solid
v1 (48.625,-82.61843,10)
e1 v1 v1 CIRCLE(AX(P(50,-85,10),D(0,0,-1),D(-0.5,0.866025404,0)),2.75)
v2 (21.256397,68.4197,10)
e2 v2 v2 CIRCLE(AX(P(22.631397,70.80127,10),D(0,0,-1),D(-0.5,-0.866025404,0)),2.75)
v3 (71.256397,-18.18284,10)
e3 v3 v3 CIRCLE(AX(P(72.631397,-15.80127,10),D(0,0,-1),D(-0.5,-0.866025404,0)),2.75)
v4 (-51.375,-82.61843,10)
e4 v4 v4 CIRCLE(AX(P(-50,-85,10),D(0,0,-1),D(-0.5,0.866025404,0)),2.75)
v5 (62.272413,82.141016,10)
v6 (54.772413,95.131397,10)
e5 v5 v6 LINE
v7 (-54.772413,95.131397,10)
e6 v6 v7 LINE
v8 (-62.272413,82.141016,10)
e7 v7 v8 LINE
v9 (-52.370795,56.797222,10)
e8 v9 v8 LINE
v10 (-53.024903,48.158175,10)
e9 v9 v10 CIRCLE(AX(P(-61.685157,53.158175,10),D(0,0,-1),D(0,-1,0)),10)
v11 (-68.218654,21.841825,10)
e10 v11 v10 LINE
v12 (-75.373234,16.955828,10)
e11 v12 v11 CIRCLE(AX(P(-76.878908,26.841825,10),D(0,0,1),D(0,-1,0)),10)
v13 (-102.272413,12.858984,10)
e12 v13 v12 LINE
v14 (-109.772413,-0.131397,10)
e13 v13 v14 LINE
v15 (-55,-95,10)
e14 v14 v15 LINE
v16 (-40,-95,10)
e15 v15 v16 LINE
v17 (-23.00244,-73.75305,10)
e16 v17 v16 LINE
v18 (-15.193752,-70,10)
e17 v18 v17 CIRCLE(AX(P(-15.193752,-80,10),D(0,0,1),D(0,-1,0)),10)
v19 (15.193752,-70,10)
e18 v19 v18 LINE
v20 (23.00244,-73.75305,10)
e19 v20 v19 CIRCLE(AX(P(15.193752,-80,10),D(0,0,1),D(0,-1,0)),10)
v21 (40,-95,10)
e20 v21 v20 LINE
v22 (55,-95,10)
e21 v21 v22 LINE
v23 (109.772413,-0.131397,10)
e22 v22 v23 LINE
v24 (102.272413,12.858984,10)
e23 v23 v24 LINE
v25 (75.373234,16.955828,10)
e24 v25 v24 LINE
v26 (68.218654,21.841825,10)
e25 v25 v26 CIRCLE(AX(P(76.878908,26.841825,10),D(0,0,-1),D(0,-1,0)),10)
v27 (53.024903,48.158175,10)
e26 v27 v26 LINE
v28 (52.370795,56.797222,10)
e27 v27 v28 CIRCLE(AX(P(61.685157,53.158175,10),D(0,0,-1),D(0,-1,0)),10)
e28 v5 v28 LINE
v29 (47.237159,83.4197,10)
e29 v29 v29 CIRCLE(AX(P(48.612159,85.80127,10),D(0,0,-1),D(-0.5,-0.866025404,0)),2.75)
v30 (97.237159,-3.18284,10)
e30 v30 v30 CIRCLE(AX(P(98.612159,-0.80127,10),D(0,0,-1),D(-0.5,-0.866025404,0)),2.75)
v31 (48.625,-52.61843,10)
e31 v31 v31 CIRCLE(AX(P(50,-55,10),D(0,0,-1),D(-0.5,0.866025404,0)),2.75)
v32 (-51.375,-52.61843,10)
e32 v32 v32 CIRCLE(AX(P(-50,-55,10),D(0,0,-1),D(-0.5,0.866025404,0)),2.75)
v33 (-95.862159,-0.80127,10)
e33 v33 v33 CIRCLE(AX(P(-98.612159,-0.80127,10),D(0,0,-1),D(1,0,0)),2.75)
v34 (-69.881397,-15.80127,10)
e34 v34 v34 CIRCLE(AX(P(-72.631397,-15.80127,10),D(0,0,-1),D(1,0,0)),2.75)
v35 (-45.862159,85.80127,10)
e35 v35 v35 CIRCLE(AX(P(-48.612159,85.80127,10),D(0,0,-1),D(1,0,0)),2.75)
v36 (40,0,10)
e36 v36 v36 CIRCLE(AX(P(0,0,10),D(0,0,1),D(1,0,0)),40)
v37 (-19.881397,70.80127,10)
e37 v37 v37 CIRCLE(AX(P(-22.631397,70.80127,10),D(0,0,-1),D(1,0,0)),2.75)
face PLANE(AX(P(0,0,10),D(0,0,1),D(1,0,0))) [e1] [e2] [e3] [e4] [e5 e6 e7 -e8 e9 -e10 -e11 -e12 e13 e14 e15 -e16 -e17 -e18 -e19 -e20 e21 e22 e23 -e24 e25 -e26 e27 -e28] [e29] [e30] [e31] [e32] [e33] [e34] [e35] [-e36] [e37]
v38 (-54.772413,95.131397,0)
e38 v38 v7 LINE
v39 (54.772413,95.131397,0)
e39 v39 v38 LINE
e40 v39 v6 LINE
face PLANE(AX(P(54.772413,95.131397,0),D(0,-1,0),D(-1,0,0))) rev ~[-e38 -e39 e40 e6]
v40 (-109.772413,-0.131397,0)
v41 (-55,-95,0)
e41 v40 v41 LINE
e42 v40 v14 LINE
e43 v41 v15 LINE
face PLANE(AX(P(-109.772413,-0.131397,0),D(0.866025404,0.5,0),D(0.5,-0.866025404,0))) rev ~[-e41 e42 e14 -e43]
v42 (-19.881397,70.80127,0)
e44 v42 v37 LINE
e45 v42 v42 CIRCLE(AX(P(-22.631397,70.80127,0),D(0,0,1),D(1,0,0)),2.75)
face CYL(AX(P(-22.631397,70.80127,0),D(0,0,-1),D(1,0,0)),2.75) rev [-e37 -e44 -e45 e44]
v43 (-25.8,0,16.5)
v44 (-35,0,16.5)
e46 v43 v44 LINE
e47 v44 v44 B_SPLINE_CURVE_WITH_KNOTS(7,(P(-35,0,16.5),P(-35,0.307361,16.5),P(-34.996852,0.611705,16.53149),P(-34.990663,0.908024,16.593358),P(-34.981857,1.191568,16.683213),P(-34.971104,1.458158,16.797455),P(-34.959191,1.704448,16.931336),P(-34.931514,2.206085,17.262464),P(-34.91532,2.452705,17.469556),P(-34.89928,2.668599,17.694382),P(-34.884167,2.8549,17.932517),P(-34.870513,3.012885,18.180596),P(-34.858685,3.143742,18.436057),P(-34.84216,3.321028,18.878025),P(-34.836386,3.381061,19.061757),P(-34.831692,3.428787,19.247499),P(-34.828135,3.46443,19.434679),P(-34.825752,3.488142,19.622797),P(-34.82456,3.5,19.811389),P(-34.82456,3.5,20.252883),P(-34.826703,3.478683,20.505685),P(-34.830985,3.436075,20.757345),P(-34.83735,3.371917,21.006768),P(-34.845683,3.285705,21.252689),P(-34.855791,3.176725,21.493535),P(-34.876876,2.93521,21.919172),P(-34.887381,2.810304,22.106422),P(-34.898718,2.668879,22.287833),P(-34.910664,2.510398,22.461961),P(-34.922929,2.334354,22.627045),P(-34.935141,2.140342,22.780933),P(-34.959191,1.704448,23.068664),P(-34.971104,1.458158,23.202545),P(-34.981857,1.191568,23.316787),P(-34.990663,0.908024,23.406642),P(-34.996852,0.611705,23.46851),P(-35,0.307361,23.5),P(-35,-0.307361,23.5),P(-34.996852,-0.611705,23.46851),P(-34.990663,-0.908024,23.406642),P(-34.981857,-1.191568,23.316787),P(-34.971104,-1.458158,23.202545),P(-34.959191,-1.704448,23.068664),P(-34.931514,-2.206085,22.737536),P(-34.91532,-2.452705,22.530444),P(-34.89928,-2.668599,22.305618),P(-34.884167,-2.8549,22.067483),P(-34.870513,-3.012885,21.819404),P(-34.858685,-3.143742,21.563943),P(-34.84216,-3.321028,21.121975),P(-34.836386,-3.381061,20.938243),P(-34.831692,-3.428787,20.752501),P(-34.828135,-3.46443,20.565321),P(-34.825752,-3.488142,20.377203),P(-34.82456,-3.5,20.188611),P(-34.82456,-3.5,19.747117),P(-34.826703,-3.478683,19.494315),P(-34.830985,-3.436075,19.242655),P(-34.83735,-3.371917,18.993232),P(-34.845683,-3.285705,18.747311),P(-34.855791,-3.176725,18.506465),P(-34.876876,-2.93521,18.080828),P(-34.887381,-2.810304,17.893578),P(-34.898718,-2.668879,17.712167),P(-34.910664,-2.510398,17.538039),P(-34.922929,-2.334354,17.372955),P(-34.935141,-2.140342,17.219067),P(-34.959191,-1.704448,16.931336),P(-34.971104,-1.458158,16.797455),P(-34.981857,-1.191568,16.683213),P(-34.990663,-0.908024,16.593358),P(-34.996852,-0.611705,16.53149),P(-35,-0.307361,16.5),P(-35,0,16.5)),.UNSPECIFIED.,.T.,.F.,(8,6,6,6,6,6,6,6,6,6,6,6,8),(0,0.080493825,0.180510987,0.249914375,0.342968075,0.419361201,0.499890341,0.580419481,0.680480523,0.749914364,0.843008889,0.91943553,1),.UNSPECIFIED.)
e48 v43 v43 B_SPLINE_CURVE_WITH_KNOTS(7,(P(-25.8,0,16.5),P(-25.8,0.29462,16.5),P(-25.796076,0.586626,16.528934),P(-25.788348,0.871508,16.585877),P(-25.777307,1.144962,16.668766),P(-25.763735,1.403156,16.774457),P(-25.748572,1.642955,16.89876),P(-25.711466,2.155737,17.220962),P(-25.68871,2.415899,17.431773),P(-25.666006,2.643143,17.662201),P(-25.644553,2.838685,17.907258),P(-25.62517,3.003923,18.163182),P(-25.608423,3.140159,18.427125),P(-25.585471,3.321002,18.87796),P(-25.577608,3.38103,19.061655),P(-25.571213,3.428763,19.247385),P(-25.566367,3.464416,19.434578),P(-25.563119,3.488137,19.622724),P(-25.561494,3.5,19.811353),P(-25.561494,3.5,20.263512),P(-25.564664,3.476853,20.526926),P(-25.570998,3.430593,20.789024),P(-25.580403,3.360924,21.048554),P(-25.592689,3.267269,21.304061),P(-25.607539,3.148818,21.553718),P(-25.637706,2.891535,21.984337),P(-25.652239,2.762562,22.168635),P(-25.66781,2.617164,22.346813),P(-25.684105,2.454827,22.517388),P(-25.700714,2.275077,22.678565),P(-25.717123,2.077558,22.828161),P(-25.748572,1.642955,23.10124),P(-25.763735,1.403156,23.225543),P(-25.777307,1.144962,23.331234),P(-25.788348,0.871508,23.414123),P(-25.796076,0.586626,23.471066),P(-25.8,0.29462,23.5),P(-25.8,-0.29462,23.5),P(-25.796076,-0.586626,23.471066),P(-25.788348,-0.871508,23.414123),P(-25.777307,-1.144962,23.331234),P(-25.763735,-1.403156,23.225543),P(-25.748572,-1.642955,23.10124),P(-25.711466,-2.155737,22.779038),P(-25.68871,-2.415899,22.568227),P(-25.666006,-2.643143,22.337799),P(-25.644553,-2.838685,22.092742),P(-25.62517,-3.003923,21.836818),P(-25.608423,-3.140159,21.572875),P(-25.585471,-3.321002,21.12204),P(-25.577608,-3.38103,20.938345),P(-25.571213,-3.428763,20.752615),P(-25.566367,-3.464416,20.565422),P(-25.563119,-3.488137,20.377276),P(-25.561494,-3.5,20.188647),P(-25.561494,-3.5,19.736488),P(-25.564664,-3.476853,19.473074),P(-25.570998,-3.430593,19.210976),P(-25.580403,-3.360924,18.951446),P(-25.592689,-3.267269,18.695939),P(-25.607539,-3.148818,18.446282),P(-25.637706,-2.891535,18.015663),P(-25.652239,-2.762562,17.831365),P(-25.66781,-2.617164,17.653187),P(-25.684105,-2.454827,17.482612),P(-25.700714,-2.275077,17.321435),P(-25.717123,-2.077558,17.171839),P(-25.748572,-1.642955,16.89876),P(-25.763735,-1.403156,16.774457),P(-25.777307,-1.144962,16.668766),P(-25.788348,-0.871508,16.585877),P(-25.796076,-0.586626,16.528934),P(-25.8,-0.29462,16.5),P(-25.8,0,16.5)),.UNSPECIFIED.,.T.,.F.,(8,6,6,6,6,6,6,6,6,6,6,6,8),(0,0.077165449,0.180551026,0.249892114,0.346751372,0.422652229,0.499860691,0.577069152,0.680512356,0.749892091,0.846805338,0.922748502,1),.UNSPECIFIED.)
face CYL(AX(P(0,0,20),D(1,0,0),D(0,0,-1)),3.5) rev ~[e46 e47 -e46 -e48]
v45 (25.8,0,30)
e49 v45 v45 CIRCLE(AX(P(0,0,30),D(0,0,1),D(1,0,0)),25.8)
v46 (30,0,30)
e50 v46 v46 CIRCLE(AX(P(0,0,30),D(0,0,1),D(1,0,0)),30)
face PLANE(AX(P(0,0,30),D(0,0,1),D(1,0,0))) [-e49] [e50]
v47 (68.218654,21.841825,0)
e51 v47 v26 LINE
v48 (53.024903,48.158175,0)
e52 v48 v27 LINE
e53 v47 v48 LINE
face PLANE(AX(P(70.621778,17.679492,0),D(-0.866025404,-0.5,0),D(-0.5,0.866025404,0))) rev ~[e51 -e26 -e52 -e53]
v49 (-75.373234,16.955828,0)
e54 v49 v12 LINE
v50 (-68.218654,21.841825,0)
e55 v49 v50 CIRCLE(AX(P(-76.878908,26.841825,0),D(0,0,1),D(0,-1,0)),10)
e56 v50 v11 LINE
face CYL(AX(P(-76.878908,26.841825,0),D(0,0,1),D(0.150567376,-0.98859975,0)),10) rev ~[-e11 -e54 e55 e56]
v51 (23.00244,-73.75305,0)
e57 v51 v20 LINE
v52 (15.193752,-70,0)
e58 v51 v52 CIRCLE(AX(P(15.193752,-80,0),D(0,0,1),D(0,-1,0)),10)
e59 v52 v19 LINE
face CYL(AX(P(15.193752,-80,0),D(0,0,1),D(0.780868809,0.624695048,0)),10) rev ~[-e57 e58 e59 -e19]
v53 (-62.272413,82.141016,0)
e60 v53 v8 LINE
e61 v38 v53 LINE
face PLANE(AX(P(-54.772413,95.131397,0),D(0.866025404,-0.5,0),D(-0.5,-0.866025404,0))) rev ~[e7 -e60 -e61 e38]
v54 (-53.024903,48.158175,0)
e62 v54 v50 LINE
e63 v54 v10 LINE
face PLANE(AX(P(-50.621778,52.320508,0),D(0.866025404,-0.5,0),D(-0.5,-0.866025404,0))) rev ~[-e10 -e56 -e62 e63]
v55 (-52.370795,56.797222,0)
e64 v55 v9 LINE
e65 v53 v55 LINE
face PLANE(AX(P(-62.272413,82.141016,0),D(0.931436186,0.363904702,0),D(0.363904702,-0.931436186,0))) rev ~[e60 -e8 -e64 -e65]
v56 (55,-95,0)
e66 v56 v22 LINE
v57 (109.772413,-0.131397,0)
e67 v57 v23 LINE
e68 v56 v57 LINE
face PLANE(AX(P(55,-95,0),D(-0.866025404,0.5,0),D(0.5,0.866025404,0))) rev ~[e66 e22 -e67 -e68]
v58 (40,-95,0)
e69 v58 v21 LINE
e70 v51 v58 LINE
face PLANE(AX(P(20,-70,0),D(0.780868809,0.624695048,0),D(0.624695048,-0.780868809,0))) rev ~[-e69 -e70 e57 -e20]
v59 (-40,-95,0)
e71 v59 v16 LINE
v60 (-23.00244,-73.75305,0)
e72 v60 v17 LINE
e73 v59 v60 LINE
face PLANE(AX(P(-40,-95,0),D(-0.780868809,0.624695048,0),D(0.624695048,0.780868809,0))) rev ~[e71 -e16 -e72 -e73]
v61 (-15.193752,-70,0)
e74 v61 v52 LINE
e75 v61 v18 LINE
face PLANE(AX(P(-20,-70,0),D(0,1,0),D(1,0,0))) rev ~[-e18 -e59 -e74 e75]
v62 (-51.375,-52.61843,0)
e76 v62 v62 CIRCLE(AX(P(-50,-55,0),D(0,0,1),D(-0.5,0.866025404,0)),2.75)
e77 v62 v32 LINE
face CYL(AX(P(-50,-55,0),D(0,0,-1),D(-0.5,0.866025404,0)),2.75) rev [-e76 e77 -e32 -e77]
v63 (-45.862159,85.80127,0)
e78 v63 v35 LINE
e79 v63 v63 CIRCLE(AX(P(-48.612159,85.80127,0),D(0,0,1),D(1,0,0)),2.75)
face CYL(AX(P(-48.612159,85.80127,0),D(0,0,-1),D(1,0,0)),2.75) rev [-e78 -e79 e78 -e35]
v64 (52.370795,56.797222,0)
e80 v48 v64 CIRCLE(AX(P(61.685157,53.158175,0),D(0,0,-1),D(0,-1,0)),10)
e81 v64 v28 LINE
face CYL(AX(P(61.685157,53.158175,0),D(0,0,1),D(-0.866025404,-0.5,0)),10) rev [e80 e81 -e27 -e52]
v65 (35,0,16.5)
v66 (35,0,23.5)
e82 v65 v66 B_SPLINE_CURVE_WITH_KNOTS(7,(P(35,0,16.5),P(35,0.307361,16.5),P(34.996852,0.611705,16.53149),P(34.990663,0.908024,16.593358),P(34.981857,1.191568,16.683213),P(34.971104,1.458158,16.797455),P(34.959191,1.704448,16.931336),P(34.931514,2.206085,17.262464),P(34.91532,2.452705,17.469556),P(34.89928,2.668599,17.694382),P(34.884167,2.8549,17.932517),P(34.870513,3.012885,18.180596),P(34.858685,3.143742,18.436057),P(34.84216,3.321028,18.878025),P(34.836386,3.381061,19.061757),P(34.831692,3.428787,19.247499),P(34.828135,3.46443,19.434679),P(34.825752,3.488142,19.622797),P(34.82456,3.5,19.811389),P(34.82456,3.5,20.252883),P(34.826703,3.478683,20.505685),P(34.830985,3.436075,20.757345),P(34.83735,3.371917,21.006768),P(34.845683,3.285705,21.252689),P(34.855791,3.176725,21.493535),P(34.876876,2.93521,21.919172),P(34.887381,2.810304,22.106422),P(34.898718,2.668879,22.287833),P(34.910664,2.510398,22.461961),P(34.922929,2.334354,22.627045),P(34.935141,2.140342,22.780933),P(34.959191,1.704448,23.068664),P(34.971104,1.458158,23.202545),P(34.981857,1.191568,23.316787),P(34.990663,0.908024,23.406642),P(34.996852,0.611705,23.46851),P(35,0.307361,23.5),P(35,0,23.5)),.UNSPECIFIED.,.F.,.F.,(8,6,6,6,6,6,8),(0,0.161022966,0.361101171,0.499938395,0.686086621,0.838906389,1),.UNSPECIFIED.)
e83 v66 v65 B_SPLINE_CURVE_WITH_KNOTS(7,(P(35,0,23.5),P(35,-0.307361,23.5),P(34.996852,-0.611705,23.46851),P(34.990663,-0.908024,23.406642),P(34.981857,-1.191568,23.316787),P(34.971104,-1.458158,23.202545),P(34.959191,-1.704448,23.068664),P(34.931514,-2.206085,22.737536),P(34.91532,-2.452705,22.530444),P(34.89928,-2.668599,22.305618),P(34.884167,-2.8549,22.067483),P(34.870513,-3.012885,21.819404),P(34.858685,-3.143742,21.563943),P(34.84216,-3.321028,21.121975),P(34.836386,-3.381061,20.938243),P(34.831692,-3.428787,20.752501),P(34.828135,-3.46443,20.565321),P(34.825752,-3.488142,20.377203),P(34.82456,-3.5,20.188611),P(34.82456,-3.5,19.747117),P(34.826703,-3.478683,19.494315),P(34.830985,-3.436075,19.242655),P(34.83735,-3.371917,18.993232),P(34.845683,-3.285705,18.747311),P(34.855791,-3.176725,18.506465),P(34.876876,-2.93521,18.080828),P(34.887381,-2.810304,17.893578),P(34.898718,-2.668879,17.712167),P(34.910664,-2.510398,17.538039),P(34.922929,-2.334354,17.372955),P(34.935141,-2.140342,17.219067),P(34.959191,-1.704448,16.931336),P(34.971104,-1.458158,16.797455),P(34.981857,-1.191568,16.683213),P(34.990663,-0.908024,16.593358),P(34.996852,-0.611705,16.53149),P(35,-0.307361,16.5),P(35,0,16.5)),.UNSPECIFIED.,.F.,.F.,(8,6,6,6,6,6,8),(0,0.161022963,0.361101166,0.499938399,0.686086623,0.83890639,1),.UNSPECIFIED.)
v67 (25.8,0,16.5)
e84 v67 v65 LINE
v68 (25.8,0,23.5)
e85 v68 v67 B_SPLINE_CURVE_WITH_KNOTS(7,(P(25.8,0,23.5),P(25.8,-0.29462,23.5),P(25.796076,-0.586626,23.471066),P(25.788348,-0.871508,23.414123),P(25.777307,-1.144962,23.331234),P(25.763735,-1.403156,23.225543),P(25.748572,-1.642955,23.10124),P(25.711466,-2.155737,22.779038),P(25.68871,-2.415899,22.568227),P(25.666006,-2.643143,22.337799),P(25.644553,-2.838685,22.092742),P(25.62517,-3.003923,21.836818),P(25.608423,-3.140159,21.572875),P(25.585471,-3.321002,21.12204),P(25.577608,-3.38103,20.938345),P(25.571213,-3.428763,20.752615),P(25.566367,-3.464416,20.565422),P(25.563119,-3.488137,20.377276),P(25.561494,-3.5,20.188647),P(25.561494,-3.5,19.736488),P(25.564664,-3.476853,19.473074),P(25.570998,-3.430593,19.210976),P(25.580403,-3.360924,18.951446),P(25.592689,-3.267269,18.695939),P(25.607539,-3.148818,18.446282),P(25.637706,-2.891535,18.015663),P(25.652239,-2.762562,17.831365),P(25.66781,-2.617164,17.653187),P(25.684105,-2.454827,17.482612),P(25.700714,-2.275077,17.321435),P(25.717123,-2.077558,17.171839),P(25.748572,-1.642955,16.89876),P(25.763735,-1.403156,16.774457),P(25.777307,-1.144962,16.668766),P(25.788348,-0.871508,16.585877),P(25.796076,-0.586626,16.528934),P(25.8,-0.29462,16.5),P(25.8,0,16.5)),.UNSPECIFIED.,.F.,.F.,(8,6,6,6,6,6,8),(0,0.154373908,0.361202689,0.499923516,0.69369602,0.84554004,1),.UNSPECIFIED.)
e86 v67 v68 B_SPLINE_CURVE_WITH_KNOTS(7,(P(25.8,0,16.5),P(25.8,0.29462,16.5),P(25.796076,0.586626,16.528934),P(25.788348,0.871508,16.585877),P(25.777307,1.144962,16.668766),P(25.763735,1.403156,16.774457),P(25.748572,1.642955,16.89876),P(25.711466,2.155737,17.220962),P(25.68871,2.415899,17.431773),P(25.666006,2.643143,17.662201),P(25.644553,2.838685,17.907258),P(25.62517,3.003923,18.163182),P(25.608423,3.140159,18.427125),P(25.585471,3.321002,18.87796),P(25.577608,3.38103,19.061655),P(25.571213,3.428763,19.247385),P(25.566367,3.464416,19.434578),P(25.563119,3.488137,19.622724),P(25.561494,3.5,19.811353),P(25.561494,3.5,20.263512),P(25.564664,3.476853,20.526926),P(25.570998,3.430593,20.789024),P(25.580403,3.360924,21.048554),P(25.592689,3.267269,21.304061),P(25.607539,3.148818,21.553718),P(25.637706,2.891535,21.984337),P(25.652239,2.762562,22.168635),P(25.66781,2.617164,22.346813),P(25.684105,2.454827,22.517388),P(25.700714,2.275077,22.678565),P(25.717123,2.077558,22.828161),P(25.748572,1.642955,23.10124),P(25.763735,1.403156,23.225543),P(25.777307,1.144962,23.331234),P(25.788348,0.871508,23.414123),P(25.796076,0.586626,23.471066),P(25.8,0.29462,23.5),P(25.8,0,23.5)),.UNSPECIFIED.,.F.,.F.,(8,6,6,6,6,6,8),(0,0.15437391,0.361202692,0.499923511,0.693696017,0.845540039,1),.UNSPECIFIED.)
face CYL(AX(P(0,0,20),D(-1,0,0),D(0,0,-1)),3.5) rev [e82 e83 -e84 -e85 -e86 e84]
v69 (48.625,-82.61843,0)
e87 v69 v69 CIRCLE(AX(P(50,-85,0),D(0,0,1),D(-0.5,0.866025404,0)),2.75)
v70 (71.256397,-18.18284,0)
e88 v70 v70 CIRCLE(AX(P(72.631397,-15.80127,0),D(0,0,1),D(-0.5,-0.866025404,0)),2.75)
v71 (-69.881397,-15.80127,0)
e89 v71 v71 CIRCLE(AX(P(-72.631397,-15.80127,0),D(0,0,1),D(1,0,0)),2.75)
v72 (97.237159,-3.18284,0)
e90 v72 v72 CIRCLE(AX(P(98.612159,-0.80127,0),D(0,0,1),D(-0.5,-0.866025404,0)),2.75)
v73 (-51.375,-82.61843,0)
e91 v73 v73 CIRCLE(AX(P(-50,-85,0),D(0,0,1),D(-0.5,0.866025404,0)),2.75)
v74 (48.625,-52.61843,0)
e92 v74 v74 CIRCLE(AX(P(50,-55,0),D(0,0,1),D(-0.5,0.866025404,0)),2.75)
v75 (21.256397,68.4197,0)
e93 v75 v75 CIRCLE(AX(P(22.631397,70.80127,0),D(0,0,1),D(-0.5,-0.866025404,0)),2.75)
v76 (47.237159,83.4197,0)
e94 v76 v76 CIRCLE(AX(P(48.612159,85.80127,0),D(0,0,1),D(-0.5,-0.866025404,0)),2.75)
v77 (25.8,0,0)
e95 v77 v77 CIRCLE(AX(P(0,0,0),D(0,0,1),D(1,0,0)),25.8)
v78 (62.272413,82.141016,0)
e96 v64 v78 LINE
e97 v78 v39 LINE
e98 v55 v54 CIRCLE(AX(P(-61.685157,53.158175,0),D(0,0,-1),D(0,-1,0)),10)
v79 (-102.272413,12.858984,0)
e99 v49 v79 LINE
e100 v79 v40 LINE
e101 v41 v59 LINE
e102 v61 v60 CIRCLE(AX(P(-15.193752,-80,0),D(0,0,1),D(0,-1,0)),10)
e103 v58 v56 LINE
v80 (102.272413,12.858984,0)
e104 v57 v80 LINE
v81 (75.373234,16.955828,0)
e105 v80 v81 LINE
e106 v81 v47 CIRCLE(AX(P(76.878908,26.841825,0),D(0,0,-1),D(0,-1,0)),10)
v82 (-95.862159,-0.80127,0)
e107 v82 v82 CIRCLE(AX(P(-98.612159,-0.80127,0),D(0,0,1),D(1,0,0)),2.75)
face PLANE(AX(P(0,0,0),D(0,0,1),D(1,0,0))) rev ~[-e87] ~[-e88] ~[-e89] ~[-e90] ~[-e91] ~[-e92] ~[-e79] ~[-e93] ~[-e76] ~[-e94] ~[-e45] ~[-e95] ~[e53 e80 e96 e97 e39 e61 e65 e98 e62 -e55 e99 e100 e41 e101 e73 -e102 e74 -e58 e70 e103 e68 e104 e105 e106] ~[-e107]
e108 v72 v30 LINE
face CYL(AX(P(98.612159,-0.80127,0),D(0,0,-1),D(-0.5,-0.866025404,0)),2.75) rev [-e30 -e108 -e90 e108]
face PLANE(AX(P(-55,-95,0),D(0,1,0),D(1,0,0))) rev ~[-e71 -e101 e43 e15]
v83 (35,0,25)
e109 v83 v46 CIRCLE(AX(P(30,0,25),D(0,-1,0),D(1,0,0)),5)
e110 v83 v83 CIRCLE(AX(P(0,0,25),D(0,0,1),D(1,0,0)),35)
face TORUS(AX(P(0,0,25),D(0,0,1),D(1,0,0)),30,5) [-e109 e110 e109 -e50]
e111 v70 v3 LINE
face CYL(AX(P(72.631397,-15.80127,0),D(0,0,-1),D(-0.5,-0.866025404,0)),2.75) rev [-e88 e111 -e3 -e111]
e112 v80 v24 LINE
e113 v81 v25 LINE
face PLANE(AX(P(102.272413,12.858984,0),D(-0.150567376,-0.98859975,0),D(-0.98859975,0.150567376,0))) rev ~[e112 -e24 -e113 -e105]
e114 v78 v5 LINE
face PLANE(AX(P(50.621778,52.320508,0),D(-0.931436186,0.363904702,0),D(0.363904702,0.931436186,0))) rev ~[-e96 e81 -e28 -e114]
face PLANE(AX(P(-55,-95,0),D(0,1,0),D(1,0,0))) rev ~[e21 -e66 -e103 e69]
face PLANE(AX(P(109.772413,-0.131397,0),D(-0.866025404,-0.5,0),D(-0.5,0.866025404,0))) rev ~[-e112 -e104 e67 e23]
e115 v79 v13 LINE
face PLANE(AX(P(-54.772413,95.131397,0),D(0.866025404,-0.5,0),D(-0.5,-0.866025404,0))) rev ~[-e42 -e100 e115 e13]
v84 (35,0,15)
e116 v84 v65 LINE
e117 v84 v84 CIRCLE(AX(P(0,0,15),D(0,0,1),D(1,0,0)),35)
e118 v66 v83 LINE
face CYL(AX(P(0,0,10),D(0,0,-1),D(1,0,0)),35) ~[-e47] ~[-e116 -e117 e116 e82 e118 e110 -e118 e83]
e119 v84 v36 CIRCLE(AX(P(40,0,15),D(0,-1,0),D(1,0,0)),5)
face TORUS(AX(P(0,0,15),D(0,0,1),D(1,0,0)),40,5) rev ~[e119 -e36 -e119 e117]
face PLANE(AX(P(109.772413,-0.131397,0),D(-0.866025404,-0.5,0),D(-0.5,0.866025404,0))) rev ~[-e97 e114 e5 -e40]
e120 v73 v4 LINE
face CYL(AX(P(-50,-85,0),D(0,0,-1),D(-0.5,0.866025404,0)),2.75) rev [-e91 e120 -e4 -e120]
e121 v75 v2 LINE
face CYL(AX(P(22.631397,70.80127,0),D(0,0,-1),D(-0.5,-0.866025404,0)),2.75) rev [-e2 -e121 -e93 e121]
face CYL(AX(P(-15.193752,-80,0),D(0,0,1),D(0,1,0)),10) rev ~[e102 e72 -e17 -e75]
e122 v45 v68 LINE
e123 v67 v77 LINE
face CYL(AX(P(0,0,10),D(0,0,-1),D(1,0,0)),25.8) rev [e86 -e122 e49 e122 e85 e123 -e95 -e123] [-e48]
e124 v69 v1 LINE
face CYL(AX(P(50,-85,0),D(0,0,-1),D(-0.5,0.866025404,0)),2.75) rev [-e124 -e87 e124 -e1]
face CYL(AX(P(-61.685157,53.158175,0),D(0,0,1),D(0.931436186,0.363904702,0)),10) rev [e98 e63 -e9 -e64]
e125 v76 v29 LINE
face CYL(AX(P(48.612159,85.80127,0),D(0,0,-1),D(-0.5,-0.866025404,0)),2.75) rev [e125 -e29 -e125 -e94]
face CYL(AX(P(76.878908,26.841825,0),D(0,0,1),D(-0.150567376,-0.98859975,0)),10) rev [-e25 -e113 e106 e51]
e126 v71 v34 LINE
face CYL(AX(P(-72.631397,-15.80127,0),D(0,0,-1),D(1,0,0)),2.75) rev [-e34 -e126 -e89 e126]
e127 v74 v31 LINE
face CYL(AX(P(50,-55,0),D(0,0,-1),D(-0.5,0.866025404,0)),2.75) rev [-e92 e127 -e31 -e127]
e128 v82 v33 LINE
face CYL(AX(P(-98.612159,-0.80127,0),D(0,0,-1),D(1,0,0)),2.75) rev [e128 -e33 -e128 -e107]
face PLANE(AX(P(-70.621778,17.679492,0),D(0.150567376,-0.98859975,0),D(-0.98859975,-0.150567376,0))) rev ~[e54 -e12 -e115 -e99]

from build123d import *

# Parameters (mm, degrees)
SKETCH011_R        = 25.8
PAD007_DEPTH       = 10
SKETCH012_R        = 2.75
POCKET003_DEPTH    = 591.2062275863
POLARPATTERN_COUNT = 3
SKETCH_R           = 35
SKETCH_R_2         = 25.8
PAD_DEPTH          = 20
FILLET_R           = 5
SKETCH013_R        = 3.5
POCKET_DEPTH       = 109.7734133595
POCKET_DEPTH_BACK  = 109.7734133595
FILLET001_R        = 10


with BuildPart() as part:
    # Sketch011 → Pad007 (new body)
    with BuildSketch(Plane.XY):
        Polygon((-54.7724133595, 95.1313972081), (-109.7724133595, -0.1313972081), (-55, -95), (55, -95), (109.7724133595, -0.1313972081), (54.7724133595, 95.1313972081), align=None)
        Circle(SKETCH011_R, mode=Mode.SUBTRACT)
    extrude(amount=PAD007_DEPTH)

    # Sketch012 → Pocket003 (cut, through all)
    with BuildSketch(Plane.XY):
        with Locations((-48.6121593217, 85.8012701892)):
            Circle(SKETCH012_R)
        with Locations((-98.6121593217, -0.8012701892)):
            Circle(SKETCH012_R)
        with Locations((-22.6313972081, 70.8012701892)):
            Circle(SKETCH012_R)
        with Locations((-72.6313972081, -15.8012701892)):
            Circle(SKETCH012_R)
        Polygon((-62.2724133595, 82.1410161514), (-50.6217782649, 52.3205080757), (-70.6217782649, 17.6794919243), (-102.2724133595, 12.8589838486), align=None)
    pocket003 = extrude(amount=POCKET003_DEPTH, mode=Mode.SUBTRACT)

    # PolarPattern: Pocket003 ×3 about axis
    polarpattern_axis = Axis((0, 0, 0), (0, 0, 1))
    for i in range(1, POLARPATTERN_COUNT):
        add(pocket003.rotate(polarpattern_axis, i * 360 / POLARPATTERN_COUNT), mode=Mode.SUBTRACT)

    # Sketch (on Face5 of PolarPattern) → Pad (join)
    with BuildSketch(Plane.XY.offset(10)):
        Circle(SKETCH_R)
        Circle(SKETCH_R_2, mode=Mode.SUBTRACT)
    extrude(amount=PAD_DEPTH)

    # Fillet
    fillet_edges = [part.edges().sort_by_distance(p)[0] for p in [
        (-35, 0, 10),
        (-35, 0, 30),
    ]]
    fillet(fillet_edges, radius=FILLET_R)

    # Sketch013 (on DatumPlane) → Pocket (cut, two sides)
    with BuildSketch(Plane(origin=(0, 0, 15), x_dir=(0, 0, -1), z_dir=(1, 0, 0))) as pocket_sk:
        with Locations((-5, 0)):
            Circle(SKETCH013_R)
    extrude(amount=-POCKET_DEPTH, mode=Mode.SUBTRACT)
    extrude(pocket_sk.sketch, amount=POCKET_DEPTH_BACK, mode=Mode.SUBTRACT)

    # Fillet001
    fillet001_edges = [part.edges().sort_by_distance(p)[0] for p in [
        (20, -70, 5),
        (-20, -70, 5),
        (50.621778, 52.320508, 5),
        (70.621778, 17.679492, 5),
        (-50.621778, 52.320508, 5),
        (-70.621778, 17.679492, 5),
    ]]
    fillet(fillet001_edges, radius=FILLET001_R)


solid = part.part
